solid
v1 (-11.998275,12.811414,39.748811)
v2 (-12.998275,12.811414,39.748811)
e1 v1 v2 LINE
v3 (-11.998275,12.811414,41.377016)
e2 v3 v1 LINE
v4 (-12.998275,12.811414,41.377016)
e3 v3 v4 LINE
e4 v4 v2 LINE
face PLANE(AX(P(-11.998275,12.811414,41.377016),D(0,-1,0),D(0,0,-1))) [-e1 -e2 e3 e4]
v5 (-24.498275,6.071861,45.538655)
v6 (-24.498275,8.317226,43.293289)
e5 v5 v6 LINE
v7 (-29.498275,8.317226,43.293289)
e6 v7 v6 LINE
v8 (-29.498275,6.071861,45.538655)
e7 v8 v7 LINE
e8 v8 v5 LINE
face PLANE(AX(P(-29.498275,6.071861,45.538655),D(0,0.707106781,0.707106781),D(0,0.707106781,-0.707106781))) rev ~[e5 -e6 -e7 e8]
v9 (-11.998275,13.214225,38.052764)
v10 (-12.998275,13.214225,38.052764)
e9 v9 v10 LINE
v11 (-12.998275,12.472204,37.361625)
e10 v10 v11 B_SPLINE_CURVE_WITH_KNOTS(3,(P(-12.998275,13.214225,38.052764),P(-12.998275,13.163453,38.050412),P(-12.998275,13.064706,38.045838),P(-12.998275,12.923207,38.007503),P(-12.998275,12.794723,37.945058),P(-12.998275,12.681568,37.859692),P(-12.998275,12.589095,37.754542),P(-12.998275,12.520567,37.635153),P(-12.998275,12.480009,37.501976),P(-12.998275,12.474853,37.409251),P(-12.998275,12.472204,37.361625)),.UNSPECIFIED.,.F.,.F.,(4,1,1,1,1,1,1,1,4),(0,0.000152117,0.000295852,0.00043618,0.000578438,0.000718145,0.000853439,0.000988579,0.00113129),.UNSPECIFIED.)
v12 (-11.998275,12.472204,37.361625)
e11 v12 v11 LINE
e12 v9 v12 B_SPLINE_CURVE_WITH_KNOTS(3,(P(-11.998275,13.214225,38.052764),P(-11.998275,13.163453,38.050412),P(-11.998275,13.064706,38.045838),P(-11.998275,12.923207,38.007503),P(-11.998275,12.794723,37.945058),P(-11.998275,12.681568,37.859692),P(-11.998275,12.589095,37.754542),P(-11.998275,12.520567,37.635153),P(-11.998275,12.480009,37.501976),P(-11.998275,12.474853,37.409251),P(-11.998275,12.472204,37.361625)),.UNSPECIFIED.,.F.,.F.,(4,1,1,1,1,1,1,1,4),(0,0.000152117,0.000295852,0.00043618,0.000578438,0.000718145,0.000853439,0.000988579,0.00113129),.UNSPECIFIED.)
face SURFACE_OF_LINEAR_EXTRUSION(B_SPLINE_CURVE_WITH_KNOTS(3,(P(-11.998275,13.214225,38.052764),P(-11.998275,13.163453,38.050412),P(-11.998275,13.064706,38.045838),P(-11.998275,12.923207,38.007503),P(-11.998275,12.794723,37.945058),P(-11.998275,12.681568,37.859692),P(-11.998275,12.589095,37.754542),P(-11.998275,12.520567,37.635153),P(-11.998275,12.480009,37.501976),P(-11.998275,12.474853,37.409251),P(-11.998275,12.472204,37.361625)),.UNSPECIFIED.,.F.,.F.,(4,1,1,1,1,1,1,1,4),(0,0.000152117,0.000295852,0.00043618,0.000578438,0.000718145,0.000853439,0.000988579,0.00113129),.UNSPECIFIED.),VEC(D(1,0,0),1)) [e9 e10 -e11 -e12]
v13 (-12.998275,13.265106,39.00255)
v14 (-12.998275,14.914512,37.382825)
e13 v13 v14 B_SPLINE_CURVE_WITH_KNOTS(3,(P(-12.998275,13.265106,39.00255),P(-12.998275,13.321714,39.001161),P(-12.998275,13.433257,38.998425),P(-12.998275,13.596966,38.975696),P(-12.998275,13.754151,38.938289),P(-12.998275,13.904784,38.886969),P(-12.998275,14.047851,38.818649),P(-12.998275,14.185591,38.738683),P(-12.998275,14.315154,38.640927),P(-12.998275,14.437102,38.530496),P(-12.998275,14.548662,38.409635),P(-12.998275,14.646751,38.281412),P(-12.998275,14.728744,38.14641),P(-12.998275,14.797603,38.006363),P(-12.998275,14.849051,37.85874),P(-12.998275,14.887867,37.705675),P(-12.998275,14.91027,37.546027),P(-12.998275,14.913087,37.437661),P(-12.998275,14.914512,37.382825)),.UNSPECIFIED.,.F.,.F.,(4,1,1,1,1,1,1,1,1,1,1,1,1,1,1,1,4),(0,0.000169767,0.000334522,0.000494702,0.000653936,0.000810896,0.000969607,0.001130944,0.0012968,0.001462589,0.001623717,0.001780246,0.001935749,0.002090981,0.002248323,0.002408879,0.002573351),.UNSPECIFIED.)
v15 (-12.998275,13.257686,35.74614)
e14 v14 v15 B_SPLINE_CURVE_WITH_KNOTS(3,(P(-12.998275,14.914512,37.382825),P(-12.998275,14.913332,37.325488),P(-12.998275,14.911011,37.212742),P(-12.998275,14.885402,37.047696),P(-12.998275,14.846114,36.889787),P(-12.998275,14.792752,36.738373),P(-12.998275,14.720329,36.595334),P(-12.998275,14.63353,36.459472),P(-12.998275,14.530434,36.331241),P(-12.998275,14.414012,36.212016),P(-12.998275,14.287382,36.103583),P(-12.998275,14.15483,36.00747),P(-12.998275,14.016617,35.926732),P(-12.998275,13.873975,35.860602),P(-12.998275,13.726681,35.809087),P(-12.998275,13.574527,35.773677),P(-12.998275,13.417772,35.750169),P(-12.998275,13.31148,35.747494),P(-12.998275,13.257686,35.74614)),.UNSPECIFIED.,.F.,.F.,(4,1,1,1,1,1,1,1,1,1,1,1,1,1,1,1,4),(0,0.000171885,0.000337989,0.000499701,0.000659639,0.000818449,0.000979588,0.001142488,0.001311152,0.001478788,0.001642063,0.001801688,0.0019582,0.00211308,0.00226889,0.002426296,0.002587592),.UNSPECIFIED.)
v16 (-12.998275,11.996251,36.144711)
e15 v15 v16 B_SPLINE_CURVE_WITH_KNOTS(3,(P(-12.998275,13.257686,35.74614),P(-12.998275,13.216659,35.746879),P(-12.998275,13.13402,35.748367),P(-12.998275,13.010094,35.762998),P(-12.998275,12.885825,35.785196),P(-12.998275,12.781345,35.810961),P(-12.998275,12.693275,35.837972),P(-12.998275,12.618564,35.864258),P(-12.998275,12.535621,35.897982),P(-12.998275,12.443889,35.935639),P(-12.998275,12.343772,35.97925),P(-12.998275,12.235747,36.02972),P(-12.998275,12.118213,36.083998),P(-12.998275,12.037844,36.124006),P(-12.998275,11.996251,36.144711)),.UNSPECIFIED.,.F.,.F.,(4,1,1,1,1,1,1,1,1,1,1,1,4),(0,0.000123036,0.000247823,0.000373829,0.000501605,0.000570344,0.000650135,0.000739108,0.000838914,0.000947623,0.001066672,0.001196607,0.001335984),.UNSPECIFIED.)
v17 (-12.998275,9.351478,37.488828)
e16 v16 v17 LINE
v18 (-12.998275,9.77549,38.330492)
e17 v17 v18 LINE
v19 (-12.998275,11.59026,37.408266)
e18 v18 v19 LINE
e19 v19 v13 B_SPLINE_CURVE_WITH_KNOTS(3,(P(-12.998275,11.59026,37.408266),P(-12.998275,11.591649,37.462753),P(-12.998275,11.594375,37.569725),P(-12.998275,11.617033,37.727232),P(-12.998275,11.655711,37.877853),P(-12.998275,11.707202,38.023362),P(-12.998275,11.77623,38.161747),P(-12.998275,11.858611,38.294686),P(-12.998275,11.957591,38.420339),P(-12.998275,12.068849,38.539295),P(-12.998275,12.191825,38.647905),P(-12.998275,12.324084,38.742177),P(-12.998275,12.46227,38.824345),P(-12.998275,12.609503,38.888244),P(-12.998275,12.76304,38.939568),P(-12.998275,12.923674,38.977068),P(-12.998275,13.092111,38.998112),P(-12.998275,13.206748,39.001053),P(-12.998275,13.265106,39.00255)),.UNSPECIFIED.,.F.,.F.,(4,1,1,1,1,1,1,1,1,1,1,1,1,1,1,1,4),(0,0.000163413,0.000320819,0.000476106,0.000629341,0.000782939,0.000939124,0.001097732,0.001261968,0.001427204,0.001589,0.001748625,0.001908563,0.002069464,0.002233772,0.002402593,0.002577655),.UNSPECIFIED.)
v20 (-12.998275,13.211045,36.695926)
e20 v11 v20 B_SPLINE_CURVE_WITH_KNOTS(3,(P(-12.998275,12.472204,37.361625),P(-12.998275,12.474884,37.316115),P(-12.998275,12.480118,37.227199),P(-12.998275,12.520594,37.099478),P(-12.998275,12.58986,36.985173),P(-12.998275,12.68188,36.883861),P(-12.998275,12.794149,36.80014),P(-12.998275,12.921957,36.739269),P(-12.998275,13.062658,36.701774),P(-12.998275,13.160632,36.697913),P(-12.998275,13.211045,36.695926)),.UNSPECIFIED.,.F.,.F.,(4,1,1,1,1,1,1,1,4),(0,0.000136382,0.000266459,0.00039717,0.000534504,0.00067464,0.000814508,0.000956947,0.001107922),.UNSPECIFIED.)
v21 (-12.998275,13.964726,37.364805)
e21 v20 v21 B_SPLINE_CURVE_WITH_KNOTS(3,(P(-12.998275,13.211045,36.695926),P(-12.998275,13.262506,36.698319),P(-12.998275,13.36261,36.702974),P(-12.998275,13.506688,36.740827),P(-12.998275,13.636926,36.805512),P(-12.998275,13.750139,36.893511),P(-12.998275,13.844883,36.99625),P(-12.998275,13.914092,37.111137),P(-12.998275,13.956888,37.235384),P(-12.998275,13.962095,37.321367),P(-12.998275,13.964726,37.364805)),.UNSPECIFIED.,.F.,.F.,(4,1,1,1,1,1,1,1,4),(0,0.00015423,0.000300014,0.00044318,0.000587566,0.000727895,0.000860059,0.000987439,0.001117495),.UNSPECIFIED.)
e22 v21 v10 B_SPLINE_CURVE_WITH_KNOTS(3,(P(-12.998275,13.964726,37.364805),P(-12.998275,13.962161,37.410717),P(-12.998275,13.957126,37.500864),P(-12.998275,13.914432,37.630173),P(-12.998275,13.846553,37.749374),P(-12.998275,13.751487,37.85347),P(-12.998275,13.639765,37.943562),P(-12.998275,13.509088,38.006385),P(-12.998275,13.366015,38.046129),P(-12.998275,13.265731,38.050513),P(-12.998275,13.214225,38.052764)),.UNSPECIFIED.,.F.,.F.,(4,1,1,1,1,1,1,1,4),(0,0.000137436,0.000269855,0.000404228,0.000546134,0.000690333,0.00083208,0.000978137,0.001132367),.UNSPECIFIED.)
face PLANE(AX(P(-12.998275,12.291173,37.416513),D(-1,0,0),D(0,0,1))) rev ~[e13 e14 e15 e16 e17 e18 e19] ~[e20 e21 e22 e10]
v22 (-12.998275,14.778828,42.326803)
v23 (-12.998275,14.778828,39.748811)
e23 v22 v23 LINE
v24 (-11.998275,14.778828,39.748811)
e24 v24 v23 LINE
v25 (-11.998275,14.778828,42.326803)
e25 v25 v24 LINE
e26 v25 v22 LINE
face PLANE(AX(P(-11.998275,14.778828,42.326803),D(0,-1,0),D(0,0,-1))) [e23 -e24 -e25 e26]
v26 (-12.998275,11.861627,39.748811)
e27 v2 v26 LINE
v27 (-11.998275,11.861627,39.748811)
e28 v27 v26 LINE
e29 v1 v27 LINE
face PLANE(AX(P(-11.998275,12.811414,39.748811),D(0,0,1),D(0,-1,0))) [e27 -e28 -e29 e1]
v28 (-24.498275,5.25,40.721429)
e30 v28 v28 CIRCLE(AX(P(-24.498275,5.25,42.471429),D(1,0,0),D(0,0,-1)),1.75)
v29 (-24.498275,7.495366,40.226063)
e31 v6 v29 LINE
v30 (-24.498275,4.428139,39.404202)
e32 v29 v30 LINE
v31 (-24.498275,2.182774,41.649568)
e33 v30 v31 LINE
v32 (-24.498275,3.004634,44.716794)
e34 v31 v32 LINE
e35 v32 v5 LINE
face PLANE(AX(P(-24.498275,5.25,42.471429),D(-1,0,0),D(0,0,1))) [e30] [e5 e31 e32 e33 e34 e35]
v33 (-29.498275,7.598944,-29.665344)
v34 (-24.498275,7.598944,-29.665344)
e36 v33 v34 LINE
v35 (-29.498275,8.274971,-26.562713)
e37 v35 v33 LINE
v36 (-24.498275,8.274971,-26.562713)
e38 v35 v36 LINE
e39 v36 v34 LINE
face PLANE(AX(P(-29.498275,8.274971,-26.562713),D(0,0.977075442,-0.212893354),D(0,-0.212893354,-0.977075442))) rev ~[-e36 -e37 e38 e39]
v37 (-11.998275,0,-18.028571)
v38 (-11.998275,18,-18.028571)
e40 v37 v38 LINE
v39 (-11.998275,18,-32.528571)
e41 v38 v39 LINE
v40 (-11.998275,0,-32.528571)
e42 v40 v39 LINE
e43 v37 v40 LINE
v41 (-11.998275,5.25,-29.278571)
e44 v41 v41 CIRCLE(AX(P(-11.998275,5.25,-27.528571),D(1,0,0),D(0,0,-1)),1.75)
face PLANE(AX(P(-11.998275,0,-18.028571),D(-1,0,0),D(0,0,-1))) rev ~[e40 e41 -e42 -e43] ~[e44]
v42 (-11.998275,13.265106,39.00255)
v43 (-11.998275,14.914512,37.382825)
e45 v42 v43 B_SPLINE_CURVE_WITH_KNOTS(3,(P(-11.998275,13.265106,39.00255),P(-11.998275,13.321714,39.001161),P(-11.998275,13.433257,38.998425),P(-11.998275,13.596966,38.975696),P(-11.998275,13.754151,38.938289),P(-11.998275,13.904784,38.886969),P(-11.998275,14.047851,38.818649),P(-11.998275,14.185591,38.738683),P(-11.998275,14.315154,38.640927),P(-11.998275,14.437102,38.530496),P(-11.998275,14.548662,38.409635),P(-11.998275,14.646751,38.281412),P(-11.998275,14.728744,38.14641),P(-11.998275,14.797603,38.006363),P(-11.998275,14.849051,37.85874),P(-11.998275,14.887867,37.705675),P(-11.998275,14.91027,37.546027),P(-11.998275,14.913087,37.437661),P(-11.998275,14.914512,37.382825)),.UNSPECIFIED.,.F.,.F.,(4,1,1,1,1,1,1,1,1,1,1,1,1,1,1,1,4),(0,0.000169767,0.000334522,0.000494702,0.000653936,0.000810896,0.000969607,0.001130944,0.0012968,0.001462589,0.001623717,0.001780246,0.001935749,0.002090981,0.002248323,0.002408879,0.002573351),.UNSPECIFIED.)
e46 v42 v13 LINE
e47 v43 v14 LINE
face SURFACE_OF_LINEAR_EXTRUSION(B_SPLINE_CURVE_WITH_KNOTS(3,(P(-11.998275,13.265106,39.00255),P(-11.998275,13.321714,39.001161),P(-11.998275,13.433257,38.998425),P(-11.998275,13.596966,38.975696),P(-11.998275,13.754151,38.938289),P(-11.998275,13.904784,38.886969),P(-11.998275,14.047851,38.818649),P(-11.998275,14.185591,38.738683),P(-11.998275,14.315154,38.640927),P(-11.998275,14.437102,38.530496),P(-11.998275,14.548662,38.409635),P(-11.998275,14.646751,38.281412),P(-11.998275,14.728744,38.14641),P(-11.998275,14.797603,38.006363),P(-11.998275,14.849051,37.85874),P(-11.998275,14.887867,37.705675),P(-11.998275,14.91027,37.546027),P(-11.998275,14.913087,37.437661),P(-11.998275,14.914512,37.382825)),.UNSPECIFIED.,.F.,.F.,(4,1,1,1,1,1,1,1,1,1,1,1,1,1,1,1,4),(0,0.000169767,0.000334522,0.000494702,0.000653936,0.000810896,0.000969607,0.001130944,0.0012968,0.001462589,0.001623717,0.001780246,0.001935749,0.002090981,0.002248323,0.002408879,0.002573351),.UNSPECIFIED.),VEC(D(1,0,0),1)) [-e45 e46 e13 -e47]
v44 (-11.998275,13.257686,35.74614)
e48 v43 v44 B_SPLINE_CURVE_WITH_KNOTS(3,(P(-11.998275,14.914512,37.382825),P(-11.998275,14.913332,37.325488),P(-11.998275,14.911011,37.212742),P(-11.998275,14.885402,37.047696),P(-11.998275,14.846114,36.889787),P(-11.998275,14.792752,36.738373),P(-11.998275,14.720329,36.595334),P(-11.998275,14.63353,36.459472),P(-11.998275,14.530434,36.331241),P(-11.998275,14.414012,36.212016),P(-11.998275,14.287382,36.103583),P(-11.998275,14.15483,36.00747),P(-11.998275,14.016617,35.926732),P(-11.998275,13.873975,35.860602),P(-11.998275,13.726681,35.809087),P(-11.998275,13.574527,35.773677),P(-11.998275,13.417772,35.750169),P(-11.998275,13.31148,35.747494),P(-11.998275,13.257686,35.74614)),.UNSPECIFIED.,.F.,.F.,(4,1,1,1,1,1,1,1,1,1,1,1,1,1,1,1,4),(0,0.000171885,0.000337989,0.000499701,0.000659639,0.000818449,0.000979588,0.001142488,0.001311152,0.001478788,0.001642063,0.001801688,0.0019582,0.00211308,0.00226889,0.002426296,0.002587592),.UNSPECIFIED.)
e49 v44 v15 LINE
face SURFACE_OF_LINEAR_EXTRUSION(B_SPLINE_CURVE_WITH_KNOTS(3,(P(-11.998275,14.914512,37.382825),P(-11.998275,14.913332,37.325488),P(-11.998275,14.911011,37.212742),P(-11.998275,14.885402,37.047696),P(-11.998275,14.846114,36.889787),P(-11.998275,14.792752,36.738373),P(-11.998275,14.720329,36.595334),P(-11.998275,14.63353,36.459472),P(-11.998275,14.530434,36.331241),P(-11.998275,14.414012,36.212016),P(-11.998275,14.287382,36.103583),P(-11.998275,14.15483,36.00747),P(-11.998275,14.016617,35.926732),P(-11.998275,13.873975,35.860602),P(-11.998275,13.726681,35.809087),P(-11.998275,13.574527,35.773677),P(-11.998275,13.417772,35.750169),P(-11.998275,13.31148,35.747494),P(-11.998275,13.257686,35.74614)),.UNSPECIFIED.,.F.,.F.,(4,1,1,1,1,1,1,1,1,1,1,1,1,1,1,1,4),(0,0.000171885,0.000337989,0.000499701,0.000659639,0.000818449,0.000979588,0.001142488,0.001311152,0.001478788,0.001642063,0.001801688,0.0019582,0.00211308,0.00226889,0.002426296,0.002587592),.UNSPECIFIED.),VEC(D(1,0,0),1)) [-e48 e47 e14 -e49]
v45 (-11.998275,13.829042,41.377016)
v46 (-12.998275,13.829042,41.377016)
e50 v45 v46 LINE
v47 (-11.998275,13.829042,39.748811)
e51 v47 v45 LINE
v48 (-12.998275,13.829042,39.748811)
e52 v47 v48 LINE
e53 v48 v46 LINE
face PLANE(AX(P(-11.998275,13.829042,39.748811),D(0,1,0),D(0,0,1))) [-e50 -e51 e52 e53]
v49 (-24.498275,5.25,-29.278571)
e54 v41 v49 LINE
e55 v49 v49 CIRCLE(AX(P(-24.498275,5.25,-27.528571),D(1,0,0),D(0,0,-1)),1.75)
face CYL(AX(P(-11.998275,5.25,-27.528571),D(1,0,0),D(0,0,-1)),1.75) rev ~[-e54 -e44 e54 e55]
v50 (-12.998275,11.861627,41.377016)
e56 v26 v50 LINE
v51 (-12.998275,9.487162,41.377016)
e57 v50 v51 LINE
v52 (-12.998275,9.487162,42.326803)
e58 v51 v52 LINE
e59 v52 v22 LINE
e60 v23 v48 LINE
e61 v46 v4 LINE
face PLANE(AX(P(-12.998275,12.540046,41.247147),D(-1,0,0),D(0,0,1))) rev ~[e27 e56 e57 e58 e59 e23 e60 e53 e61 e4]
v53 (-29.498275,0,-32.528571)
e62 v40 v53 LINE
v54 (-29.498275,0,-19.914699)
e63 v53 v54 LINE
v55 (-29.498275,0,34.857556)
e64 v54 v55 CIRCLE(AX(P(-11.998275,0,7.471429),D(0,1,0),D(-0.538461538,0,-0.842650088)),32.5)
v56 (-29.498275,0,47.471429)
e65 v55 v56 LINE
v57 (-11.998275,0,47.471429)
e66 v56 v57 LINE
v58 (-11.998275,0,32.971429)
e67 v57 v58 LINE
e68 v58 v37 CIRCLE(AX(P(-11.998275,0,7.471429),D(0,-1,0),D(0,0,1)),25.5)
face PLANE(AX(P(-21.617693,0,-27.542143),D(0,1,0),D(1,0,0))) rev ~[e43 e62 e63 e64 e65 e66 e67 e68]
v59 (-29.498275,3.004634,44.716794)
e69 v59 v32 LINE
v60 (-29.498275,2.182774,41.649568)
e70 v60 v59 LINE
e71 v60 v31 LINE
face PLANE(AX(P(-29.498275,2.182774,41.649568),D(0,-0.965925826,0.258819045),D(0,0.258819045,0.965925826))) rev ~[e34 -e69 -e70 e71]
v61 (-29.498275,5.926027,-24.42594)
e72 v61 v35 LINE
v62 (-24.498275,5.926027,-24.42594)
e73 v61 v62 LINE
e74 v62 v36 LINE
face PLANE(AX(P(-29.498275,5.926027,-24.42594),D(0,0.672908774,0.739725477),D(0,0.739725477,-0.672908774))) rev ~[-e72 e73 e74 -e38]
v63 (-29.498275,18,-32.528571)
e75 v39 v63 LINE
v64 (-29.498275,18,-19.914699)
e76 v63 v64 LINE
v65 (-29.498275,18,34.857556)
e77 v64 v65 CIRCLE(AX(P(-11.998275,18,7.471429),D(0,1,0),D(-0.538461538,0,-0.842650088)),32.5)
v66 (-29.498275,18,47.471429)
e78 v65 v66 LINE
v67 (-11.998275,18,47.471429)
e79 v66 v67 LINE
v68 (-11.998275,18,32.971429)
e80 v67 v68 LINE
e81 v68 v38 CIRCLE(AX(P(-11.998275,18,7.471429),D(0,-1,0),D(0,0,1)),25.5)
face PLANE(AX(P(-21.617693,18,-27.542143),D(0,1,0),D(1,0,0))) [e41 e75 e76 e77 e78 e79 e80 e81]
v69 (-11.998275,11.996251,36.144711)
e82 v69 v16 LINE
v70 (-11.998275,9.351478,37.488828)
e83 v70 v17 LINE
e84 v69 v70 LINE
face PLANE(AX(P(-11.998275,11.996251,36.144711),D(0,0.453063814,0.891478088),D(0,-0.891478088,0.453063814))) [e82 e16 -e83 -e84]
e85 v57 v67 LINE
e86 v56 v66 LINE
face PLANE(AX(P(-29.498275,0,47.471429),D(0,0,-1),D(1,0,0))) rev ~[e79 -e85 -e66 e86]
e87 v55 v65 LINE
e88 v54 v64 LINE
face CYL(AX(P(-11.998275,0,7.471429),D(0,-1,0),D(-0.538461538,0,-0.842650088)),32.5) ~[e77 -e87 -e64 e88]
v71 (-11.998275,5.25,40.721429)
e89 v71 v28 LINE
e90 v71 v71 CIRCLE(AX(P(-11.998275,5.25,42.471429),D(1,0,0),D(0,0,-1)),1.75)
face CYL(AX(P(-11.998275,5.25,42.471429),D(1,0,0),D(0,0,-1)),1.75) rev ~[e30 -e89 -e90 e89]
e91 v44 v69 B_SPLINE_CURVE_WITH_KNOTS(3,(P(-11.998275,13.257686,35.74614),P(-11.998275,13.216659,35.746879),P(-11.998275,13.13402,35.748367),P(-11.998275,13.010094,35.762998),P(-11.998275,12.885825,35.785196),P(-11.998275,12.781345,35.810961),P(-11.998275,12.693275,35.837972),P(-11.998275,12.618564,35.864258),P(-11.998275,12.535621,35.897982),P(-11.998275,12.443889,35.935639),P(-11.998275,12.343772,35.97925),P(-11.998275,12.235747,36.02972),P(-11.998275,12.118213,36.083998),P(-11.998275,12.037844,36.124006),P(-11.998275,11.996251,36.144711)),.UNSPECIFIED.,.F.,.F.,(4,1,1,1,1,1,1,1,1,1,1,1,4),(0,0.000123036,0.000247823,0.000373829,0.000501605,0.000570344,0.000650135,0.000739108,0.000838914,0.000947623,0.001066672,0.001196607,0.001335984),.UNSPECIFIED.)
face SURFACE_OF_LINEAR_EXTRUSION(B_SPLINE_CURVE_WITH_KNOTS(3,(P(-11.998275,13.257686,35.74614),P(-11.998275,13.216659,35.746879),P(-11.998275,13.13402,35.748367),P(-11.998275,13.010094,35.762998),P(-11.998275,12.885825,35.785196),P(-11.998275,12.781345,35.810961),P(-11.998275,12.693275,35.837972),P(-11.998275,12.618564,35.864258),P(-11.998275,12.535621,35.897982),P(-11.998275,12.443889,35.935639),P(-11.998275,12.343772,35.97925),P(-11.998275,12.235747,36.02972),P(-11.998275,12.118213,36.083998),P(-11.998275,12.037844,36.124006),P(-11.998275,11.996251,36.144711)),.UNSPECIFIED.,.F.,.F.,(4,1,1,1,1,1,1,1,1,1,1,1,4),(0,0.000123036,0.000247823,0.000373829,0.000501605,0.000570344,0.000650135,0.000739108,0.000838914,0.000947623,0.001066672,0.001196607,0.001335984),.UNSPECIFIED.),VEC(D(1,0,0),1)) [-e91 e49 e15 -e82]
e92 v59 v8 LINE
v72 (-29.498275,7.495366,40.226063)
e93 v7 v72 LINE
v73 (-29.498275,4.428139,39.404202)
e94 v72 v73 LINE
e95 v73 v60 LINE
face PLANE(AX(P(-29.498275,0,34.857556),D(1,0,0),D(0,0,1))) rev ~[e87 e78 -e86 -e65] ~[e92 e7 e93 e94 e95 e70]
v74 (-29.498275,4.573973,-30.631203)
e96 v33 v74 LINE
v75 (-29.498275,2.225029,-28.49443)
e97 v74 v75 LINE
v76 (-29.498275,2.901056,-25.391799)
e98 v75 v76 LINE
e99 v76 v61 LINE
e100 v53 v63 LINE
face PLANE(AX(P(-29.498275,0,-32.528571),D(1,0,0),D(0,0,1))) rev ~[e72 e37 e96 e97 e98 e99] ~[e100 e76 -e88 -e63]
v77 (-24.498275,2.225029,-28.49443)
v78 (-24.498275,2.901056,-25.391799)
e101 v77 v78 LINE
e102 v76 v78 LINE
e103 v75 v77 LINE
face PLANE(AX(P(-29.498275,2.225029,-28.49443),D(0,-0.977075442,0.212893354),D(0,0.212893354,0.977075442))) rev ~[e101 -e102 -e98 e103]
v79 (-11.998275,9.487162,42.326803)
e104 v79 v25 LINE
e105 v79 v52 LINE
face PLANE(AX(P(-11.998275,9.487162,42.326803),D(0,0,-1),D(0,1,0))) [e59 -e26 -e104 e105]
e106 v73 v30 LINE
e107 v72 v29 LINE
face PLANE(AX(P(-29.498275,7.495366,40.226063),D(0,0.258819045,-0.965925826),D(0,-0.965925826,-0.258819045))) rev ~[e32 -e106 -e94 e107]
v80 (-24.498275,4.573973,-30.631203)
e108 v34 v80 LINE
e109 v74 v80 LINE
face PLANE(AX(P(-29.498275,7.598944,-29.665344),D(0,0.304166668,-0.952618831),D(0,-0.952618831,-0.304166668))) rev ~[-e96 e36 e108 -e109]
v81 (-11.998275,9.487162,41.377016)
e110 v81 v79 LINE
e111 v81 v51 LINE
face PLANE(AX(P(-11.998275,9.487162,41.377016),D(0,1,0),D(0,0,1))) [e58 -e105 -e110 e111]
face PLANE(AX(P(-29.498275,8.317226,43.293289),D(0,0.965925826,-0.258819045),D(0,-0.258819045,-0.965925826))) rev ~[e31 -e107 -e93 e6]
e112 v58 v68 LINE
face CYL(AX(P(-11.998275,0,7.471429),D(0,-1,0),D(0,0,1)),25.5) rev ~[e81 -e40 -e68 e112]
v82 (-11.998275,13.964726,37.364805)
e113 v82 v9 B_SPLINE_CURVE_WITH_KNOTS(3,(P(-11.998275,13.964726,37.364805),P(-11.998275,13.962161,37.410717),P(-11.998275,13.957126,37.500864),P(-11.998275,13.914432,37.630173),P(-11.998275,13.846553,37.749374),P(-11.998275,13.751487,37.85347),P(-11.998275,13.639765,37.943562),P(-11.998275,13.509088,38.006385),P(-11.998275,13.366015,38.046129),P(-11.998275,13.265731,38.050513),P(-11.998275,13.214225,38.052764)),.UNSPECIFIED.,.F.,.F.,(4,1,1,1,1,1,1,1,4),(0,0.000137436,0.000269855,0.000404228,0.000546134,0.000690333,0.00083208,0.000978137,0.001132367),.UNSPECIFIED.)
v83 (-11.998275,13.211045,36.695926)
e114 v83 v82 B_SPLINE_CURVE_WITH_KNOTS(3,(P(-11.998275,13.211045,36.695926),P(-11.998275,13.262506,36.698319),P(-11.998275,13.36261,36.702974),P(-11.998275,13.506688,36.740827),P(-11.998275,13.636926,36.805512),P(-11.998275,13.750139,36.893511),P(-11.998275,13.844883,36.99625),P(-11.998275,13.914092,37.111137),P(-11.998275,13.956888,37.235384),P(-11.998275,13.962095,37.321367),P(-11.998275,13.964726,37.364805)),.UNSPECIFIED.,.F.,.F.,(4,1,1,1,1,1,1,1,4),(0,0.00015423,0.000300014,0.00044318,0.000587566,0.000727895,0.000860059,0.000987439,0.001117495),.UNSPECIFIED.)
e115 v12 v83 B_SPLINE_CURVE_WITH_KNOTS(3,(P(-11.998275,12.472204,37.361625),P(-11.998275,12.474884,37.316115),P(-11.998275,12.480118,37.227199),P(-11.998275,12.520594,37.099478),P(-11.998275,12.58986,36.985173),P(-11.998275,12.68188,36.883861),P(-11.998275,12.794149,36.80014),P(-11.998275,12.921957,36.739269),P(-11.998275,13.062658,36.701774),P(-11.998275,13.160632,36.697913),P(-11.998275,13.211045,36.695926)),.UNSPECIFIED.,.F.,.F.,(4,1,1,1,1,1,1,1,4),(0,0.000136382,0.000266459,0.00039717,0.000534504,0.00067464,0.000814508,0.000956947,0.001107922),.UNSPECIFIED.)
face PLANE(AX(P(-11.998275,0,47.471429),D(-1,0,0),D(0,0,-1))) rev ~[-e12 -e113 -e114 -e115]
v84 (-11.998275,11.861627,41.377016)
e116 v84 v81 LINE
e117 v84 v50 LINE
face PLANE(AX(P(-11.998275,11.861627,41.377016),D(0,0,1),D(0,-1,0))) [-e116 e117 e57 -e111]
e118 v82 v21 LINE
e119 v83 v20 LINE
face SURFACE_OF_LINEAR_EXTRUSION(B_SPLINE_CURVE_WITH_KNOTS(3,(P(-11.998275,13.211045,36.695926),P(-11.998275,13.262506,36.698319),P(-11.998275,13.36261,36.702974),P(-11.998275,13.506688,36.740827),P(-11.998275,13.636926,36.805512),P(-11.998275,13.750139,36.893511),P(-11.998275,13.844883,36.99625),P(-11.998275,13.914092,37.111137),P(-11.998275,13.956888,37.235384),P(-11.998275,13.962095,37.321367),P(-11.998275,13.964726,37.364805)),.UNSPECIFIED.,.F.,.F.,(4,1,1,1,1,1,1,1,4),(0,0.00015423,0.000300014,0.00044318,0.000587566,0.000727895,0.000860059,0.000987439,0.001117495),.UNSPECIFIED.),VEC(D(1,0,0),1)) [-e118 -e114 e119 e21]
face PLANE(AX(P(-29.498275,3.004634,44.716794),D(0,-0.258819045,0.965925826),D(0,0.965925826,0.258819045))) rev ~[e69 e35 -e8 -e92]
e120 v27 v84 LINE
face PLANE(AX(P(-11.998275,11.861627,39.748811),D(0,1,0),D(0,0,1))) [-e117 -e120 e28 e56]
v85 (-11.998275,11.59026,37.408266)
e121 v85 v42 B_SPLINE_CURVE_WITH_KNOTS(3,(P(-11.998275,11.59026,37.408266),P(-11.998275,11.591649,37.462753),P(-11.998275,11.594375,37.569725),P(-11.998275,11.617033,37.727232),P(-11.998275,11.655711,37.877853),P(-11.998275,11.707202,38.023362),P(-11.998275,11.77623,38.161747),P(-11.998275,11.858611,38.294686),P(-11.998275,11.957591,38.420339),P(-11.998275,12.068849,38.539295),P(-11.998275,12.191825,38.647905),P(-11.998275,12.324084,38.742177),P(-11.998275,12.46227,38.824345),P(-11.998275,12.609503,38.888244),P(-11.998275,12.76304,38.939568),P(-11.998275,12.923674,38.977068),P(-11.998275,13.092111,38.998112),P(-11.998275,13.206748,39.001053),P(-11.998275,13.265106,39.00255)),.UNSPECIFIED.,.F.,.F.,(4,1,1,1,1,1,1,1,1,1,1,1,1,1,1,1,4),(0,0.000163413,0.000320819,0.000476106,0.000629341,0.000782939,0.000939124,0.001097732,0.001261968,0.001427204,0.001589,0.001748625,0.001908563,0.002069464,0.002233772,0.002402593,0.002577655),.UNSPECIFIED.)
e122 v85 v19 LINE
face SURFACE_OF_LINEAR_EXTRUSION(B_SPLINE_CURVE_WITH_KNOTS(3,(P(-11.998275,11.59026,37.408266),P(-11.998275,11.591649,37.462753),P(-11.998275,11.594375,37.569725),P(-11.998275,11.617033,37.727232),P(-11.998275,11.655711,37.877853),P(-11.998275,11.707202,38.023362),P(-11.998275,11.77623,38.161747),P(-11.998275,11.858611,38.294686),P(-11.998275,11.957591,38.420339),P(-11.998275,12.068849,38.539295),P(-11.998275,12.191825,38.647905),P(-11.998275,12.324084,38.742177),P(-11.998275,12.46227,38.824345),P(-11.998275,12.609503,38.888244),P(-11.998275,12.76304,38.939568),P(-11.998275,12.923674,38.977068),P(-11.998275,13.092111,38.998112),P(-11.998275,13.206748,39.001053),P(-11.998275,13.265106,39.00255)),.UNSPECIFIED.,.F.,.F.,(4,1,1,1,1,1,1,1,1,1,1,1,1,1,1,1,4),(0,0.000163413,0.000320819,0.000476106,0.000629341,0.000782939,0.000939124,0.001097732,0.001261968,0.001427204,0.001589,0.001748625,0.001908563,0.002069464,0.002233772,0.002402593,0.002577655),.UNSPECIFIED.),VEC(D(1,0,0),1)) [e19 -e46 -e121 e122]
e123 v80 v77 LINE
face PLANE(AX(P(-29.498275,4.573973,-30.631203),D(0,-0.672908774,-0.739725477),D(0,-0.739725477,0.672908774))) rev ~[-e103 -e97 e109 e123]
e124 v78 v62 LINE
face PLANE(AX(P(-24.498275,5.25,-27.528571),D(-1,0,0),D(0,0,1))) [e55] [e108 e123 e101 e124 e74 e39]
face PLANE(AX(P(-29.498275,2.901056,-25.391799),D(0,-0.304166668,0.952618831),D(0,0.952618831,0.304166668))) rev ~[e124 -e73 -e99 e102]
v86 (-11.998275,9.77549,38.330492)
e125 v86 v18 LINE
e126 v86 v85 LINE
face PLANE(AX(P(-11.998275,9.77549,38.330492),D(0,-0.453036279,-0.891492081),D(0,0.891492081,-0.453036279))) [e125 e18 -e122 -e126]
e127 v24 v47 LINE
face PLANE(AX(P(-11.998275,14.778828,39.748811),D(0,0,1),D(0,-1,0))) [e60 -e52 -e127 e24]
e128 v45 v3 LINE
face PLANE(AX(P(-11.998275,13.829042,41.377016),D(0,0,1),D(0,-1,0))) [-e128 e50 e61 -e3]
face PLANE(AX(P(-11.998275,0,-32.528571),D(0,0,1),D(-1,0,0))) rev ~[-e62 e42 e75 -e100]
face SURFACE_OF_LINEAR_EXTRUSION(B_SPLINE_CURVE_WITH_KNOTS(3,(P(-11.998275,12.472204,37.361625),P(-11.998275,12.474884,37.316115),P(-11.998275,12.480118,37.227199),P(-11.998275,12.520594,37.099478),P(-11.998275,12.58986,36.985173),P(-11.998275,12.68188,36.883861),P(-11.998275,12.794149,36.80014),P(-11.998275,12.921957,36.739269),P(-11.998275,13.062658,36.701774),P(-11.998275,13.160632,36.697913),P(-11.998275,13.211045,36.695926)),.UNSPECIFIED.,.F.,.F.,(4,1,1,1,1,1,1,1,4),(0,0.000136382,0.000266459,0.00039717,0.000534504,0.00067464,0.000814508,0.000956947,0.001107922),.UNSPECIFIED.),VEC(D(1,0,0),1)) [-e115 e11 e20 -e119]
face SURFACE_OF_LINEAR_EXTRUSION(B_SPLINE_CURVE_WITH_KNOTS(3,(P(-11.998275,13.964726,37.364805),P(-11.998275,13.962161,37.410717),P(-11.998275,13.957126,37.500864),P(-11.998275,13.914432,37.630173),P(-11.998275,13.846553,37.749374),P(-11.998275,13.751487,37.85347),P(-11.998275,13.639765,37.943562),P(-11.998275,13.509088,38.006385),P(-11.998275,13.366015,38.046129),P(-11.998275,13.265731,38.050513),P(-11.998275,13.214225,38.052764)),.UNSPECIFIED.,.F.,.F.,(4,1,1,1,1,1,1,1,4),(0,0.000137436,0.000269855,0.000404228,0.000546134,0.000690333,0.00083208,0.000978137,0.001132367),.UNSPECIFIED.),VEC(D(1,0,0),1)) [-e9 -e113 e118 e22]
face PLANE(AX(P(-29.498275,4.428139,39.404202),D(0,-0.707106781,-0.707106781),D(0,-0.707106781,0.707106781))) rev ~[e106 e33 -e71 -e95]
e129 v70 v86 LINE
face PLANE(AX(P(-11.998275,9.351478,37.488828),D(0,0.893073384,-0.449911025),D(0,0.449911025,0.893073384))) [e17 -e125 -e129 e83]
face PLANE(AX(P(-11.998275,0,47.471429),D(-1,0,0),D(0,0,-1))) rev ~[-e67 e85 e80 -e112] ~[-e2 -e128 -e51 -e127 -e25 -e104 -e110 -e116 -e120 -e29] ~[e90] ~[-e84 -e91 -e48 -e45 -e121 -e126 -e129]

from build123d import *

# Parameters (mm, degrees)
BOSS_EXTRUDE1_DEPTH = 18
SKETCH2_R           = 1.75
CUT_EXTRUDE1_DEPTH  = 33.5
CUT_EXTRUDE2_DEPTH  = 1
CUT_EXTRUDE3_DEPTH  = 5


with BuildPart() as part:
    # Sketch1 → Boss-Extrude1 (new body)
    with BuildSketch(Plane(origin=(0, 0, 0), x_dir=(1, 0, 0), z_dir=(0, 1, 0))):
        with BuildLine():
            Line((-11.998275301, 32.528571429), (-29.498275301, 32.528571429))
            Line((-29.498275301, 32.528571429), (-29.498275301, 19.914699304))
            ThreePointArc((-29.498275301, 19.914699304), (-21.114218589, 23.723916882), (-11.998275301, 25.028571429))
            Line((-11.998275301, 25.028571429), (-11.998275301, 32.528571429))
        make_face()
        with BuildLine():
            ThreePointArc((-11.998275301, 25.028571429), (-21.114218589, 23.723916882), (-29.498275301, 19.914699304))
            ThreePointArc((-29.498275301, 19.914699304), (-44.498275301, -7.471428571), (-29.498275301, -34.857556447))
            ThreePointArc((-29.498275301, -34.857556447), (-21.114218589, -38.666774025), (-11.998275301, -39.971428571))
            Line((-11.998275301, -39.971428571), (-11.998275301, -32.971428571))
            ThreePointArc((-11.998275301, -32.971428571), (-37.498275301, -7.471428571), (-11.998275301, 18.028571429))
            Line((-11.998275301, 18.028571429), (-11.998275301, 25.028571429))
        make_face()
        with BuildLine():
            Line((-29.498275301, -34.857556447), (-29.498275301, -47.471428571))
            Line((-29.498275301, -47.471428571), (-11.998275301, -47.471428571))
            Line((-11.998275301, -47.471428571), (-11.998275301, -39.971428571))
            ThreePointArc((-11.998275301, -39.971428571), (-21.114218589, -38.666774025), (-29.498275301, -34.857556447))
        make_face()
    extrude(amount=BOSS_EXTRUDE1_DEPTH)

    # Sketch2 → Cut-Extrude1 (cut, through all)
    with BuildSketch(Plane(origin=(-11.998275301, 0, 0), x_dir=(0, 0, -1), z_dir=(1, 0, 0))):
        with Locations((-42.471428571, 5.25)):
            Circle(SKETCH2_R)
        with Locations((27.528571429, 5.25)):
            Circle(SKETCH2_R)
    extrude(amount=-CUT_EXTRUDE1_DEPTH, mode=Mode.SUBTRACT)

    # Sketch3 → Cut-Extrude2 (cut)
    with BuildSketch(Plane(origin=(-11.998275301, 0, 0), x_dir=(0, 0, -1), z_dir=(1, 0, 0))):
        Polygon((-42.326802517, 14.778828324), (-39.748811064, 14.778828324), (-39.748811064, 13.829042), (-41.377016192, 13.829042), (-41.377016192, 12.811413795), (-39.748811064, 12.811413795), (-39.748811064, 11.86162747), (-41.377016192, 11.86162747), (-41.377016192, 9.487161658), (-42.326802517, 9.487161658), align=None)
        with BuildLine():
            Line((-37.488828425, 9.351477897), (-38.330491753, 9.775489649))
            Line((-38.330491753, 9.775489649), (-37.408266192, 11.590259948))
            add(Edge.make_bspline(
                [(-37.408266192, 11.590259948), (-37.462753396, 11.591648755), (-37.569724958, 11.594375318), (-37.727232239, 11.617033031), (-37.87785266, 11.655711194), (-38.023361539, 11.707201572), (-38.161746535, 11.77622976), (-38.294685676, 11.858611279), (-38.420338635, 11.95759149), (-38.539294546, 12.068849341), (-38.647905095, 12.191825278), (-38.742176754, 12.324083818), (-38.824345348, 12.462269948), (-38.888244154, 12.60950332), (-38.939568, 12.76303987), (-38.977067789, 12.92367432), (-38.998111679, 13.092111431), (-39.00105302, 13.206747887), (-39.00255038, 13.265106369)],
                knots=[0, 0, 0, 0, 0.000163413, 0.000320819, 0.000476106, 0.000629341, 0.000782939, 0.000939124, 0.001097732, 0.001261968, 0.001427204, 0.001589, 0.001748625, 0.001908563, 0.002069464, 0.002233772, 0.002402593, 0.002577655, 0.002577655, 0.002577655, 0.002577655], degree=3))
            add(Edge.make_bspline(
                [(-39.00255038, 13.265106369), (-39.001161497, 13.321713522), (-38.99842473, 13.433256746), (-38.975695616, 13.5969659), (-38.938289378, 13.754150604), (-38.88696936, 13.904784157), (-38.818649356, 14.047850808), (-38.738682529, 14.185590652), (-38.640926713, 14.315153998), (-38.530495897, 14.437101726), (-38.409635229, 14.548662366), (-38.281412206, 14.646751431), (-38.146409838, 14.728744465), (-38.006363041, 14.797603487), (-37.858740367, 14.849050664), (-37.705675127, 14.887867179), (-37.546027089, 14.910269855), (-37.43766133, 14.913086693), (-37.382825487, 14.914512085)],
                knots=[0, 0, 0, 0, 0.000169767, 0.000334522, 0.000494702, 0.000653936, 0.000810896, 0.000969607, 0.001130944, 0.0012968, 0.001462589, 0.001623717, 0.001780246, 0.001935749, 0.002090981, 0.002248323, 0.002408879, 0.002573351, 0.002573351, 0.002573351, 0.002573351], degree=3))
            add(Edge.make_bspline(
                [(-37.382825487, 14.914512085), (-37.32548798, 14.913331855), (-37.212741531, 14.911011091), (-37.047695871, 14.885402378), (-36.889786863, 14.846113929), (-36.738372898, 14.792752199), (-36.595333717, 14.720329287), (-36.459472442, 14.633529923), (-36.331240989, 14.530433614), (-36.212016472, 14.414011914), (-36.103583105, 14.287381533), (-36.007470418, 14.154830073), (-35.92673168, 14.016616709), (-35.860601716, 13.873974949), (-35.809086806, 13.726681326), (-35.773676871, 13.574526911), (-35.750168601, 13.417771894), (-35.747493829, 13.311480409), (-35.746140124, 13.257686164)],
                knots=[0, 0, 0, 0, 0.000171885, 0.000337989, 0.000499701, 0.000659639, 0.000818449, 0.000979588, 0.001142488, 0.001311152, 0.001478788, 0.001642063, 0.001801688, 0.0019582, 0.00211308, 0.00226889, 0.002426296, 0.002587592, 0.002587592, 0.002587592, 0.002587592], degree=3))
            add(Edge.make_bspline(
                [(-35.746140124, 13.257686164), (-35.746878854, 13.21665857), (-35.748366821, 13.134019773), (-35.762997646, 13.010093938), (-35.785195556, 12.885824631), (-35.810960929, 12.781344964), (-35.837972338, 12.693274952), (-35.864257515, 12.618563879), (-35.897982171, 12.535620561), (-35.935639121, 12.443889047), (-35.9792503, 12.343771591), (-36.029719907, 12.235746792), (-36.083997697, 12.118212537), (-36.124005786, 12.037844215), (-36.144711171, 11.996251201)],
                knots=[0, 0, 0, 0, 0.000123036, 0.000247823, 0.000373829, 0.000501605, 0.000570344, 0.000650135, 0.000739108, 0.000838914, 0.000947623, 0.001066672, 0.001196607, 0.001335984, 0.001335984, 0.001335984, 0.001335984], degree=3))
            Line((-36.144711171, 11.996251201), (-37.488828425, 9.351477897))
        make_face()
        with BuildLine():
            add(Edge.make_bspline(
                [(-37.3616249, 12.472204393), (-37.316115096, 12.474883687), (-37.227199244, 12.480118421), (-37.099477536, 12.520594498), (-36.985173101, 12.58986006), (-36.883860931, 12.68188028), (-36.800139654, 12.794149159), (-36.739268808, 12.921957298), (-36.70177424, 13.062657931), (-36.697913156, 13.160632443), (-36.695926449, 13.211044871)],
                knots=[0, 0, 0, 0, 0.000136382, 0.000266459, 0.00039717, 0.000534504, 0.00067464, 0.000814508, 0.000956947, 0.001107922, 0.001107922, 0.001107922, 0.001107922], degree=3))
            add(Edge.make_bspline(
                [(-36.695926449, 13.211044871), (-36.698319221, 13.262505994), (-36.702973734, 13.362610164), (-36.740827484, 13.506688151), (-36.805511929, 13.636926106), (-36.893511418, 13.750138756), (-36.996249672, 13.84488328), (-37.111136974, 13.914091604), (-37.23538362, 13.956887813), (-37.321366646, 13.962095071), (-37.364804988, 13.96472576)],
                knots=[0, 0, 0, 0, 0.00015423, 0.000300014, 0.00044318, 0.000587566, 0.000727895, 0.000860059, 0.000987439, 0.001117495, 0.001117495, 0.001117495, 0.001117495], degree=3))
            add(Edge.make_bspline(
                [(-37.364804988, 13.96472576), (-37.410716877, 13.962161178), (-37.500864495, 13.95712564), (-37.630172561, 13.914432203), (-37.749374298, 13.84655291), (-37.853470467, 13.751486921), (-37.943561709, 13.639765246), (-38.006384791, 13.50908768), (-38.046128852, 13.366015125), (-38.050512553, 13.265731436), (-38.052764056, 13.214224959)],
                knots=[0, 0, 0, 0, 0.000137436, 0.000269855, 0.000404228, 0.000546134, 0.000690333, 0.00083208, 0.000978137, 0.001132367, 0.001132367, 0.001132367, 0.001132367], degree=3))
            add(Edge.make_bspline(
                [(-38.052764056, 13.214224959), (-38.050412222, 13.163452669), (-38.04583815, 13.064705867), (-38.007502778, 12.923207265), (-37.945058299, 12.794722755), (-37.859692241, 12.681568477), (-37.75454228, 12.589094862), (-37.635152594, 12.520567119), (-37.501976162, 12.48000867), (-37.409250814, 12.474852647), (-37.3616249, 12.472204393)],
                knots=[0, 0, 0, 0, 0.000152117, 0.000295852, 0.00043618, 0.000578438, 0.000718145, 0.000853439, 0.000988579, 0.00113129, 0.00113129, 0.00113129, 0.00113129], degree=3))
        make_face(mode=Mode.SUBTRACT)
    extrude(amount=-CUT_EXTRUDE2_DEPTH, mode=Mode.SUBTRACT)

    # Sketch4 → Cut-Extrude3 (cut)
    with BuildSketch(Plane.ZY.offset(29.498275301)):
        Polygon((-25.391799088, 2.901056132), (-24.425940196, 5.926027195), (-26.562712537, 8.274971063), (-29.665343769, 7.598943868), (-30.631202661, 4.573972805), (-28.49443032, 2.225028937), align=None)
        Polygon((44.716794169, 3.004634402), (45.538655018, 6.071860849), (43.293289421, 8.317226447), (40.226062974, 7.495365598), (39.404202124, 4.428139151), (41.649567722, 2.182773553), align=None)
    extrude(amount=-CUT_EXTRUDE3_DEPTH, mode=Mode.SUBTRACT)


solid = part.part
